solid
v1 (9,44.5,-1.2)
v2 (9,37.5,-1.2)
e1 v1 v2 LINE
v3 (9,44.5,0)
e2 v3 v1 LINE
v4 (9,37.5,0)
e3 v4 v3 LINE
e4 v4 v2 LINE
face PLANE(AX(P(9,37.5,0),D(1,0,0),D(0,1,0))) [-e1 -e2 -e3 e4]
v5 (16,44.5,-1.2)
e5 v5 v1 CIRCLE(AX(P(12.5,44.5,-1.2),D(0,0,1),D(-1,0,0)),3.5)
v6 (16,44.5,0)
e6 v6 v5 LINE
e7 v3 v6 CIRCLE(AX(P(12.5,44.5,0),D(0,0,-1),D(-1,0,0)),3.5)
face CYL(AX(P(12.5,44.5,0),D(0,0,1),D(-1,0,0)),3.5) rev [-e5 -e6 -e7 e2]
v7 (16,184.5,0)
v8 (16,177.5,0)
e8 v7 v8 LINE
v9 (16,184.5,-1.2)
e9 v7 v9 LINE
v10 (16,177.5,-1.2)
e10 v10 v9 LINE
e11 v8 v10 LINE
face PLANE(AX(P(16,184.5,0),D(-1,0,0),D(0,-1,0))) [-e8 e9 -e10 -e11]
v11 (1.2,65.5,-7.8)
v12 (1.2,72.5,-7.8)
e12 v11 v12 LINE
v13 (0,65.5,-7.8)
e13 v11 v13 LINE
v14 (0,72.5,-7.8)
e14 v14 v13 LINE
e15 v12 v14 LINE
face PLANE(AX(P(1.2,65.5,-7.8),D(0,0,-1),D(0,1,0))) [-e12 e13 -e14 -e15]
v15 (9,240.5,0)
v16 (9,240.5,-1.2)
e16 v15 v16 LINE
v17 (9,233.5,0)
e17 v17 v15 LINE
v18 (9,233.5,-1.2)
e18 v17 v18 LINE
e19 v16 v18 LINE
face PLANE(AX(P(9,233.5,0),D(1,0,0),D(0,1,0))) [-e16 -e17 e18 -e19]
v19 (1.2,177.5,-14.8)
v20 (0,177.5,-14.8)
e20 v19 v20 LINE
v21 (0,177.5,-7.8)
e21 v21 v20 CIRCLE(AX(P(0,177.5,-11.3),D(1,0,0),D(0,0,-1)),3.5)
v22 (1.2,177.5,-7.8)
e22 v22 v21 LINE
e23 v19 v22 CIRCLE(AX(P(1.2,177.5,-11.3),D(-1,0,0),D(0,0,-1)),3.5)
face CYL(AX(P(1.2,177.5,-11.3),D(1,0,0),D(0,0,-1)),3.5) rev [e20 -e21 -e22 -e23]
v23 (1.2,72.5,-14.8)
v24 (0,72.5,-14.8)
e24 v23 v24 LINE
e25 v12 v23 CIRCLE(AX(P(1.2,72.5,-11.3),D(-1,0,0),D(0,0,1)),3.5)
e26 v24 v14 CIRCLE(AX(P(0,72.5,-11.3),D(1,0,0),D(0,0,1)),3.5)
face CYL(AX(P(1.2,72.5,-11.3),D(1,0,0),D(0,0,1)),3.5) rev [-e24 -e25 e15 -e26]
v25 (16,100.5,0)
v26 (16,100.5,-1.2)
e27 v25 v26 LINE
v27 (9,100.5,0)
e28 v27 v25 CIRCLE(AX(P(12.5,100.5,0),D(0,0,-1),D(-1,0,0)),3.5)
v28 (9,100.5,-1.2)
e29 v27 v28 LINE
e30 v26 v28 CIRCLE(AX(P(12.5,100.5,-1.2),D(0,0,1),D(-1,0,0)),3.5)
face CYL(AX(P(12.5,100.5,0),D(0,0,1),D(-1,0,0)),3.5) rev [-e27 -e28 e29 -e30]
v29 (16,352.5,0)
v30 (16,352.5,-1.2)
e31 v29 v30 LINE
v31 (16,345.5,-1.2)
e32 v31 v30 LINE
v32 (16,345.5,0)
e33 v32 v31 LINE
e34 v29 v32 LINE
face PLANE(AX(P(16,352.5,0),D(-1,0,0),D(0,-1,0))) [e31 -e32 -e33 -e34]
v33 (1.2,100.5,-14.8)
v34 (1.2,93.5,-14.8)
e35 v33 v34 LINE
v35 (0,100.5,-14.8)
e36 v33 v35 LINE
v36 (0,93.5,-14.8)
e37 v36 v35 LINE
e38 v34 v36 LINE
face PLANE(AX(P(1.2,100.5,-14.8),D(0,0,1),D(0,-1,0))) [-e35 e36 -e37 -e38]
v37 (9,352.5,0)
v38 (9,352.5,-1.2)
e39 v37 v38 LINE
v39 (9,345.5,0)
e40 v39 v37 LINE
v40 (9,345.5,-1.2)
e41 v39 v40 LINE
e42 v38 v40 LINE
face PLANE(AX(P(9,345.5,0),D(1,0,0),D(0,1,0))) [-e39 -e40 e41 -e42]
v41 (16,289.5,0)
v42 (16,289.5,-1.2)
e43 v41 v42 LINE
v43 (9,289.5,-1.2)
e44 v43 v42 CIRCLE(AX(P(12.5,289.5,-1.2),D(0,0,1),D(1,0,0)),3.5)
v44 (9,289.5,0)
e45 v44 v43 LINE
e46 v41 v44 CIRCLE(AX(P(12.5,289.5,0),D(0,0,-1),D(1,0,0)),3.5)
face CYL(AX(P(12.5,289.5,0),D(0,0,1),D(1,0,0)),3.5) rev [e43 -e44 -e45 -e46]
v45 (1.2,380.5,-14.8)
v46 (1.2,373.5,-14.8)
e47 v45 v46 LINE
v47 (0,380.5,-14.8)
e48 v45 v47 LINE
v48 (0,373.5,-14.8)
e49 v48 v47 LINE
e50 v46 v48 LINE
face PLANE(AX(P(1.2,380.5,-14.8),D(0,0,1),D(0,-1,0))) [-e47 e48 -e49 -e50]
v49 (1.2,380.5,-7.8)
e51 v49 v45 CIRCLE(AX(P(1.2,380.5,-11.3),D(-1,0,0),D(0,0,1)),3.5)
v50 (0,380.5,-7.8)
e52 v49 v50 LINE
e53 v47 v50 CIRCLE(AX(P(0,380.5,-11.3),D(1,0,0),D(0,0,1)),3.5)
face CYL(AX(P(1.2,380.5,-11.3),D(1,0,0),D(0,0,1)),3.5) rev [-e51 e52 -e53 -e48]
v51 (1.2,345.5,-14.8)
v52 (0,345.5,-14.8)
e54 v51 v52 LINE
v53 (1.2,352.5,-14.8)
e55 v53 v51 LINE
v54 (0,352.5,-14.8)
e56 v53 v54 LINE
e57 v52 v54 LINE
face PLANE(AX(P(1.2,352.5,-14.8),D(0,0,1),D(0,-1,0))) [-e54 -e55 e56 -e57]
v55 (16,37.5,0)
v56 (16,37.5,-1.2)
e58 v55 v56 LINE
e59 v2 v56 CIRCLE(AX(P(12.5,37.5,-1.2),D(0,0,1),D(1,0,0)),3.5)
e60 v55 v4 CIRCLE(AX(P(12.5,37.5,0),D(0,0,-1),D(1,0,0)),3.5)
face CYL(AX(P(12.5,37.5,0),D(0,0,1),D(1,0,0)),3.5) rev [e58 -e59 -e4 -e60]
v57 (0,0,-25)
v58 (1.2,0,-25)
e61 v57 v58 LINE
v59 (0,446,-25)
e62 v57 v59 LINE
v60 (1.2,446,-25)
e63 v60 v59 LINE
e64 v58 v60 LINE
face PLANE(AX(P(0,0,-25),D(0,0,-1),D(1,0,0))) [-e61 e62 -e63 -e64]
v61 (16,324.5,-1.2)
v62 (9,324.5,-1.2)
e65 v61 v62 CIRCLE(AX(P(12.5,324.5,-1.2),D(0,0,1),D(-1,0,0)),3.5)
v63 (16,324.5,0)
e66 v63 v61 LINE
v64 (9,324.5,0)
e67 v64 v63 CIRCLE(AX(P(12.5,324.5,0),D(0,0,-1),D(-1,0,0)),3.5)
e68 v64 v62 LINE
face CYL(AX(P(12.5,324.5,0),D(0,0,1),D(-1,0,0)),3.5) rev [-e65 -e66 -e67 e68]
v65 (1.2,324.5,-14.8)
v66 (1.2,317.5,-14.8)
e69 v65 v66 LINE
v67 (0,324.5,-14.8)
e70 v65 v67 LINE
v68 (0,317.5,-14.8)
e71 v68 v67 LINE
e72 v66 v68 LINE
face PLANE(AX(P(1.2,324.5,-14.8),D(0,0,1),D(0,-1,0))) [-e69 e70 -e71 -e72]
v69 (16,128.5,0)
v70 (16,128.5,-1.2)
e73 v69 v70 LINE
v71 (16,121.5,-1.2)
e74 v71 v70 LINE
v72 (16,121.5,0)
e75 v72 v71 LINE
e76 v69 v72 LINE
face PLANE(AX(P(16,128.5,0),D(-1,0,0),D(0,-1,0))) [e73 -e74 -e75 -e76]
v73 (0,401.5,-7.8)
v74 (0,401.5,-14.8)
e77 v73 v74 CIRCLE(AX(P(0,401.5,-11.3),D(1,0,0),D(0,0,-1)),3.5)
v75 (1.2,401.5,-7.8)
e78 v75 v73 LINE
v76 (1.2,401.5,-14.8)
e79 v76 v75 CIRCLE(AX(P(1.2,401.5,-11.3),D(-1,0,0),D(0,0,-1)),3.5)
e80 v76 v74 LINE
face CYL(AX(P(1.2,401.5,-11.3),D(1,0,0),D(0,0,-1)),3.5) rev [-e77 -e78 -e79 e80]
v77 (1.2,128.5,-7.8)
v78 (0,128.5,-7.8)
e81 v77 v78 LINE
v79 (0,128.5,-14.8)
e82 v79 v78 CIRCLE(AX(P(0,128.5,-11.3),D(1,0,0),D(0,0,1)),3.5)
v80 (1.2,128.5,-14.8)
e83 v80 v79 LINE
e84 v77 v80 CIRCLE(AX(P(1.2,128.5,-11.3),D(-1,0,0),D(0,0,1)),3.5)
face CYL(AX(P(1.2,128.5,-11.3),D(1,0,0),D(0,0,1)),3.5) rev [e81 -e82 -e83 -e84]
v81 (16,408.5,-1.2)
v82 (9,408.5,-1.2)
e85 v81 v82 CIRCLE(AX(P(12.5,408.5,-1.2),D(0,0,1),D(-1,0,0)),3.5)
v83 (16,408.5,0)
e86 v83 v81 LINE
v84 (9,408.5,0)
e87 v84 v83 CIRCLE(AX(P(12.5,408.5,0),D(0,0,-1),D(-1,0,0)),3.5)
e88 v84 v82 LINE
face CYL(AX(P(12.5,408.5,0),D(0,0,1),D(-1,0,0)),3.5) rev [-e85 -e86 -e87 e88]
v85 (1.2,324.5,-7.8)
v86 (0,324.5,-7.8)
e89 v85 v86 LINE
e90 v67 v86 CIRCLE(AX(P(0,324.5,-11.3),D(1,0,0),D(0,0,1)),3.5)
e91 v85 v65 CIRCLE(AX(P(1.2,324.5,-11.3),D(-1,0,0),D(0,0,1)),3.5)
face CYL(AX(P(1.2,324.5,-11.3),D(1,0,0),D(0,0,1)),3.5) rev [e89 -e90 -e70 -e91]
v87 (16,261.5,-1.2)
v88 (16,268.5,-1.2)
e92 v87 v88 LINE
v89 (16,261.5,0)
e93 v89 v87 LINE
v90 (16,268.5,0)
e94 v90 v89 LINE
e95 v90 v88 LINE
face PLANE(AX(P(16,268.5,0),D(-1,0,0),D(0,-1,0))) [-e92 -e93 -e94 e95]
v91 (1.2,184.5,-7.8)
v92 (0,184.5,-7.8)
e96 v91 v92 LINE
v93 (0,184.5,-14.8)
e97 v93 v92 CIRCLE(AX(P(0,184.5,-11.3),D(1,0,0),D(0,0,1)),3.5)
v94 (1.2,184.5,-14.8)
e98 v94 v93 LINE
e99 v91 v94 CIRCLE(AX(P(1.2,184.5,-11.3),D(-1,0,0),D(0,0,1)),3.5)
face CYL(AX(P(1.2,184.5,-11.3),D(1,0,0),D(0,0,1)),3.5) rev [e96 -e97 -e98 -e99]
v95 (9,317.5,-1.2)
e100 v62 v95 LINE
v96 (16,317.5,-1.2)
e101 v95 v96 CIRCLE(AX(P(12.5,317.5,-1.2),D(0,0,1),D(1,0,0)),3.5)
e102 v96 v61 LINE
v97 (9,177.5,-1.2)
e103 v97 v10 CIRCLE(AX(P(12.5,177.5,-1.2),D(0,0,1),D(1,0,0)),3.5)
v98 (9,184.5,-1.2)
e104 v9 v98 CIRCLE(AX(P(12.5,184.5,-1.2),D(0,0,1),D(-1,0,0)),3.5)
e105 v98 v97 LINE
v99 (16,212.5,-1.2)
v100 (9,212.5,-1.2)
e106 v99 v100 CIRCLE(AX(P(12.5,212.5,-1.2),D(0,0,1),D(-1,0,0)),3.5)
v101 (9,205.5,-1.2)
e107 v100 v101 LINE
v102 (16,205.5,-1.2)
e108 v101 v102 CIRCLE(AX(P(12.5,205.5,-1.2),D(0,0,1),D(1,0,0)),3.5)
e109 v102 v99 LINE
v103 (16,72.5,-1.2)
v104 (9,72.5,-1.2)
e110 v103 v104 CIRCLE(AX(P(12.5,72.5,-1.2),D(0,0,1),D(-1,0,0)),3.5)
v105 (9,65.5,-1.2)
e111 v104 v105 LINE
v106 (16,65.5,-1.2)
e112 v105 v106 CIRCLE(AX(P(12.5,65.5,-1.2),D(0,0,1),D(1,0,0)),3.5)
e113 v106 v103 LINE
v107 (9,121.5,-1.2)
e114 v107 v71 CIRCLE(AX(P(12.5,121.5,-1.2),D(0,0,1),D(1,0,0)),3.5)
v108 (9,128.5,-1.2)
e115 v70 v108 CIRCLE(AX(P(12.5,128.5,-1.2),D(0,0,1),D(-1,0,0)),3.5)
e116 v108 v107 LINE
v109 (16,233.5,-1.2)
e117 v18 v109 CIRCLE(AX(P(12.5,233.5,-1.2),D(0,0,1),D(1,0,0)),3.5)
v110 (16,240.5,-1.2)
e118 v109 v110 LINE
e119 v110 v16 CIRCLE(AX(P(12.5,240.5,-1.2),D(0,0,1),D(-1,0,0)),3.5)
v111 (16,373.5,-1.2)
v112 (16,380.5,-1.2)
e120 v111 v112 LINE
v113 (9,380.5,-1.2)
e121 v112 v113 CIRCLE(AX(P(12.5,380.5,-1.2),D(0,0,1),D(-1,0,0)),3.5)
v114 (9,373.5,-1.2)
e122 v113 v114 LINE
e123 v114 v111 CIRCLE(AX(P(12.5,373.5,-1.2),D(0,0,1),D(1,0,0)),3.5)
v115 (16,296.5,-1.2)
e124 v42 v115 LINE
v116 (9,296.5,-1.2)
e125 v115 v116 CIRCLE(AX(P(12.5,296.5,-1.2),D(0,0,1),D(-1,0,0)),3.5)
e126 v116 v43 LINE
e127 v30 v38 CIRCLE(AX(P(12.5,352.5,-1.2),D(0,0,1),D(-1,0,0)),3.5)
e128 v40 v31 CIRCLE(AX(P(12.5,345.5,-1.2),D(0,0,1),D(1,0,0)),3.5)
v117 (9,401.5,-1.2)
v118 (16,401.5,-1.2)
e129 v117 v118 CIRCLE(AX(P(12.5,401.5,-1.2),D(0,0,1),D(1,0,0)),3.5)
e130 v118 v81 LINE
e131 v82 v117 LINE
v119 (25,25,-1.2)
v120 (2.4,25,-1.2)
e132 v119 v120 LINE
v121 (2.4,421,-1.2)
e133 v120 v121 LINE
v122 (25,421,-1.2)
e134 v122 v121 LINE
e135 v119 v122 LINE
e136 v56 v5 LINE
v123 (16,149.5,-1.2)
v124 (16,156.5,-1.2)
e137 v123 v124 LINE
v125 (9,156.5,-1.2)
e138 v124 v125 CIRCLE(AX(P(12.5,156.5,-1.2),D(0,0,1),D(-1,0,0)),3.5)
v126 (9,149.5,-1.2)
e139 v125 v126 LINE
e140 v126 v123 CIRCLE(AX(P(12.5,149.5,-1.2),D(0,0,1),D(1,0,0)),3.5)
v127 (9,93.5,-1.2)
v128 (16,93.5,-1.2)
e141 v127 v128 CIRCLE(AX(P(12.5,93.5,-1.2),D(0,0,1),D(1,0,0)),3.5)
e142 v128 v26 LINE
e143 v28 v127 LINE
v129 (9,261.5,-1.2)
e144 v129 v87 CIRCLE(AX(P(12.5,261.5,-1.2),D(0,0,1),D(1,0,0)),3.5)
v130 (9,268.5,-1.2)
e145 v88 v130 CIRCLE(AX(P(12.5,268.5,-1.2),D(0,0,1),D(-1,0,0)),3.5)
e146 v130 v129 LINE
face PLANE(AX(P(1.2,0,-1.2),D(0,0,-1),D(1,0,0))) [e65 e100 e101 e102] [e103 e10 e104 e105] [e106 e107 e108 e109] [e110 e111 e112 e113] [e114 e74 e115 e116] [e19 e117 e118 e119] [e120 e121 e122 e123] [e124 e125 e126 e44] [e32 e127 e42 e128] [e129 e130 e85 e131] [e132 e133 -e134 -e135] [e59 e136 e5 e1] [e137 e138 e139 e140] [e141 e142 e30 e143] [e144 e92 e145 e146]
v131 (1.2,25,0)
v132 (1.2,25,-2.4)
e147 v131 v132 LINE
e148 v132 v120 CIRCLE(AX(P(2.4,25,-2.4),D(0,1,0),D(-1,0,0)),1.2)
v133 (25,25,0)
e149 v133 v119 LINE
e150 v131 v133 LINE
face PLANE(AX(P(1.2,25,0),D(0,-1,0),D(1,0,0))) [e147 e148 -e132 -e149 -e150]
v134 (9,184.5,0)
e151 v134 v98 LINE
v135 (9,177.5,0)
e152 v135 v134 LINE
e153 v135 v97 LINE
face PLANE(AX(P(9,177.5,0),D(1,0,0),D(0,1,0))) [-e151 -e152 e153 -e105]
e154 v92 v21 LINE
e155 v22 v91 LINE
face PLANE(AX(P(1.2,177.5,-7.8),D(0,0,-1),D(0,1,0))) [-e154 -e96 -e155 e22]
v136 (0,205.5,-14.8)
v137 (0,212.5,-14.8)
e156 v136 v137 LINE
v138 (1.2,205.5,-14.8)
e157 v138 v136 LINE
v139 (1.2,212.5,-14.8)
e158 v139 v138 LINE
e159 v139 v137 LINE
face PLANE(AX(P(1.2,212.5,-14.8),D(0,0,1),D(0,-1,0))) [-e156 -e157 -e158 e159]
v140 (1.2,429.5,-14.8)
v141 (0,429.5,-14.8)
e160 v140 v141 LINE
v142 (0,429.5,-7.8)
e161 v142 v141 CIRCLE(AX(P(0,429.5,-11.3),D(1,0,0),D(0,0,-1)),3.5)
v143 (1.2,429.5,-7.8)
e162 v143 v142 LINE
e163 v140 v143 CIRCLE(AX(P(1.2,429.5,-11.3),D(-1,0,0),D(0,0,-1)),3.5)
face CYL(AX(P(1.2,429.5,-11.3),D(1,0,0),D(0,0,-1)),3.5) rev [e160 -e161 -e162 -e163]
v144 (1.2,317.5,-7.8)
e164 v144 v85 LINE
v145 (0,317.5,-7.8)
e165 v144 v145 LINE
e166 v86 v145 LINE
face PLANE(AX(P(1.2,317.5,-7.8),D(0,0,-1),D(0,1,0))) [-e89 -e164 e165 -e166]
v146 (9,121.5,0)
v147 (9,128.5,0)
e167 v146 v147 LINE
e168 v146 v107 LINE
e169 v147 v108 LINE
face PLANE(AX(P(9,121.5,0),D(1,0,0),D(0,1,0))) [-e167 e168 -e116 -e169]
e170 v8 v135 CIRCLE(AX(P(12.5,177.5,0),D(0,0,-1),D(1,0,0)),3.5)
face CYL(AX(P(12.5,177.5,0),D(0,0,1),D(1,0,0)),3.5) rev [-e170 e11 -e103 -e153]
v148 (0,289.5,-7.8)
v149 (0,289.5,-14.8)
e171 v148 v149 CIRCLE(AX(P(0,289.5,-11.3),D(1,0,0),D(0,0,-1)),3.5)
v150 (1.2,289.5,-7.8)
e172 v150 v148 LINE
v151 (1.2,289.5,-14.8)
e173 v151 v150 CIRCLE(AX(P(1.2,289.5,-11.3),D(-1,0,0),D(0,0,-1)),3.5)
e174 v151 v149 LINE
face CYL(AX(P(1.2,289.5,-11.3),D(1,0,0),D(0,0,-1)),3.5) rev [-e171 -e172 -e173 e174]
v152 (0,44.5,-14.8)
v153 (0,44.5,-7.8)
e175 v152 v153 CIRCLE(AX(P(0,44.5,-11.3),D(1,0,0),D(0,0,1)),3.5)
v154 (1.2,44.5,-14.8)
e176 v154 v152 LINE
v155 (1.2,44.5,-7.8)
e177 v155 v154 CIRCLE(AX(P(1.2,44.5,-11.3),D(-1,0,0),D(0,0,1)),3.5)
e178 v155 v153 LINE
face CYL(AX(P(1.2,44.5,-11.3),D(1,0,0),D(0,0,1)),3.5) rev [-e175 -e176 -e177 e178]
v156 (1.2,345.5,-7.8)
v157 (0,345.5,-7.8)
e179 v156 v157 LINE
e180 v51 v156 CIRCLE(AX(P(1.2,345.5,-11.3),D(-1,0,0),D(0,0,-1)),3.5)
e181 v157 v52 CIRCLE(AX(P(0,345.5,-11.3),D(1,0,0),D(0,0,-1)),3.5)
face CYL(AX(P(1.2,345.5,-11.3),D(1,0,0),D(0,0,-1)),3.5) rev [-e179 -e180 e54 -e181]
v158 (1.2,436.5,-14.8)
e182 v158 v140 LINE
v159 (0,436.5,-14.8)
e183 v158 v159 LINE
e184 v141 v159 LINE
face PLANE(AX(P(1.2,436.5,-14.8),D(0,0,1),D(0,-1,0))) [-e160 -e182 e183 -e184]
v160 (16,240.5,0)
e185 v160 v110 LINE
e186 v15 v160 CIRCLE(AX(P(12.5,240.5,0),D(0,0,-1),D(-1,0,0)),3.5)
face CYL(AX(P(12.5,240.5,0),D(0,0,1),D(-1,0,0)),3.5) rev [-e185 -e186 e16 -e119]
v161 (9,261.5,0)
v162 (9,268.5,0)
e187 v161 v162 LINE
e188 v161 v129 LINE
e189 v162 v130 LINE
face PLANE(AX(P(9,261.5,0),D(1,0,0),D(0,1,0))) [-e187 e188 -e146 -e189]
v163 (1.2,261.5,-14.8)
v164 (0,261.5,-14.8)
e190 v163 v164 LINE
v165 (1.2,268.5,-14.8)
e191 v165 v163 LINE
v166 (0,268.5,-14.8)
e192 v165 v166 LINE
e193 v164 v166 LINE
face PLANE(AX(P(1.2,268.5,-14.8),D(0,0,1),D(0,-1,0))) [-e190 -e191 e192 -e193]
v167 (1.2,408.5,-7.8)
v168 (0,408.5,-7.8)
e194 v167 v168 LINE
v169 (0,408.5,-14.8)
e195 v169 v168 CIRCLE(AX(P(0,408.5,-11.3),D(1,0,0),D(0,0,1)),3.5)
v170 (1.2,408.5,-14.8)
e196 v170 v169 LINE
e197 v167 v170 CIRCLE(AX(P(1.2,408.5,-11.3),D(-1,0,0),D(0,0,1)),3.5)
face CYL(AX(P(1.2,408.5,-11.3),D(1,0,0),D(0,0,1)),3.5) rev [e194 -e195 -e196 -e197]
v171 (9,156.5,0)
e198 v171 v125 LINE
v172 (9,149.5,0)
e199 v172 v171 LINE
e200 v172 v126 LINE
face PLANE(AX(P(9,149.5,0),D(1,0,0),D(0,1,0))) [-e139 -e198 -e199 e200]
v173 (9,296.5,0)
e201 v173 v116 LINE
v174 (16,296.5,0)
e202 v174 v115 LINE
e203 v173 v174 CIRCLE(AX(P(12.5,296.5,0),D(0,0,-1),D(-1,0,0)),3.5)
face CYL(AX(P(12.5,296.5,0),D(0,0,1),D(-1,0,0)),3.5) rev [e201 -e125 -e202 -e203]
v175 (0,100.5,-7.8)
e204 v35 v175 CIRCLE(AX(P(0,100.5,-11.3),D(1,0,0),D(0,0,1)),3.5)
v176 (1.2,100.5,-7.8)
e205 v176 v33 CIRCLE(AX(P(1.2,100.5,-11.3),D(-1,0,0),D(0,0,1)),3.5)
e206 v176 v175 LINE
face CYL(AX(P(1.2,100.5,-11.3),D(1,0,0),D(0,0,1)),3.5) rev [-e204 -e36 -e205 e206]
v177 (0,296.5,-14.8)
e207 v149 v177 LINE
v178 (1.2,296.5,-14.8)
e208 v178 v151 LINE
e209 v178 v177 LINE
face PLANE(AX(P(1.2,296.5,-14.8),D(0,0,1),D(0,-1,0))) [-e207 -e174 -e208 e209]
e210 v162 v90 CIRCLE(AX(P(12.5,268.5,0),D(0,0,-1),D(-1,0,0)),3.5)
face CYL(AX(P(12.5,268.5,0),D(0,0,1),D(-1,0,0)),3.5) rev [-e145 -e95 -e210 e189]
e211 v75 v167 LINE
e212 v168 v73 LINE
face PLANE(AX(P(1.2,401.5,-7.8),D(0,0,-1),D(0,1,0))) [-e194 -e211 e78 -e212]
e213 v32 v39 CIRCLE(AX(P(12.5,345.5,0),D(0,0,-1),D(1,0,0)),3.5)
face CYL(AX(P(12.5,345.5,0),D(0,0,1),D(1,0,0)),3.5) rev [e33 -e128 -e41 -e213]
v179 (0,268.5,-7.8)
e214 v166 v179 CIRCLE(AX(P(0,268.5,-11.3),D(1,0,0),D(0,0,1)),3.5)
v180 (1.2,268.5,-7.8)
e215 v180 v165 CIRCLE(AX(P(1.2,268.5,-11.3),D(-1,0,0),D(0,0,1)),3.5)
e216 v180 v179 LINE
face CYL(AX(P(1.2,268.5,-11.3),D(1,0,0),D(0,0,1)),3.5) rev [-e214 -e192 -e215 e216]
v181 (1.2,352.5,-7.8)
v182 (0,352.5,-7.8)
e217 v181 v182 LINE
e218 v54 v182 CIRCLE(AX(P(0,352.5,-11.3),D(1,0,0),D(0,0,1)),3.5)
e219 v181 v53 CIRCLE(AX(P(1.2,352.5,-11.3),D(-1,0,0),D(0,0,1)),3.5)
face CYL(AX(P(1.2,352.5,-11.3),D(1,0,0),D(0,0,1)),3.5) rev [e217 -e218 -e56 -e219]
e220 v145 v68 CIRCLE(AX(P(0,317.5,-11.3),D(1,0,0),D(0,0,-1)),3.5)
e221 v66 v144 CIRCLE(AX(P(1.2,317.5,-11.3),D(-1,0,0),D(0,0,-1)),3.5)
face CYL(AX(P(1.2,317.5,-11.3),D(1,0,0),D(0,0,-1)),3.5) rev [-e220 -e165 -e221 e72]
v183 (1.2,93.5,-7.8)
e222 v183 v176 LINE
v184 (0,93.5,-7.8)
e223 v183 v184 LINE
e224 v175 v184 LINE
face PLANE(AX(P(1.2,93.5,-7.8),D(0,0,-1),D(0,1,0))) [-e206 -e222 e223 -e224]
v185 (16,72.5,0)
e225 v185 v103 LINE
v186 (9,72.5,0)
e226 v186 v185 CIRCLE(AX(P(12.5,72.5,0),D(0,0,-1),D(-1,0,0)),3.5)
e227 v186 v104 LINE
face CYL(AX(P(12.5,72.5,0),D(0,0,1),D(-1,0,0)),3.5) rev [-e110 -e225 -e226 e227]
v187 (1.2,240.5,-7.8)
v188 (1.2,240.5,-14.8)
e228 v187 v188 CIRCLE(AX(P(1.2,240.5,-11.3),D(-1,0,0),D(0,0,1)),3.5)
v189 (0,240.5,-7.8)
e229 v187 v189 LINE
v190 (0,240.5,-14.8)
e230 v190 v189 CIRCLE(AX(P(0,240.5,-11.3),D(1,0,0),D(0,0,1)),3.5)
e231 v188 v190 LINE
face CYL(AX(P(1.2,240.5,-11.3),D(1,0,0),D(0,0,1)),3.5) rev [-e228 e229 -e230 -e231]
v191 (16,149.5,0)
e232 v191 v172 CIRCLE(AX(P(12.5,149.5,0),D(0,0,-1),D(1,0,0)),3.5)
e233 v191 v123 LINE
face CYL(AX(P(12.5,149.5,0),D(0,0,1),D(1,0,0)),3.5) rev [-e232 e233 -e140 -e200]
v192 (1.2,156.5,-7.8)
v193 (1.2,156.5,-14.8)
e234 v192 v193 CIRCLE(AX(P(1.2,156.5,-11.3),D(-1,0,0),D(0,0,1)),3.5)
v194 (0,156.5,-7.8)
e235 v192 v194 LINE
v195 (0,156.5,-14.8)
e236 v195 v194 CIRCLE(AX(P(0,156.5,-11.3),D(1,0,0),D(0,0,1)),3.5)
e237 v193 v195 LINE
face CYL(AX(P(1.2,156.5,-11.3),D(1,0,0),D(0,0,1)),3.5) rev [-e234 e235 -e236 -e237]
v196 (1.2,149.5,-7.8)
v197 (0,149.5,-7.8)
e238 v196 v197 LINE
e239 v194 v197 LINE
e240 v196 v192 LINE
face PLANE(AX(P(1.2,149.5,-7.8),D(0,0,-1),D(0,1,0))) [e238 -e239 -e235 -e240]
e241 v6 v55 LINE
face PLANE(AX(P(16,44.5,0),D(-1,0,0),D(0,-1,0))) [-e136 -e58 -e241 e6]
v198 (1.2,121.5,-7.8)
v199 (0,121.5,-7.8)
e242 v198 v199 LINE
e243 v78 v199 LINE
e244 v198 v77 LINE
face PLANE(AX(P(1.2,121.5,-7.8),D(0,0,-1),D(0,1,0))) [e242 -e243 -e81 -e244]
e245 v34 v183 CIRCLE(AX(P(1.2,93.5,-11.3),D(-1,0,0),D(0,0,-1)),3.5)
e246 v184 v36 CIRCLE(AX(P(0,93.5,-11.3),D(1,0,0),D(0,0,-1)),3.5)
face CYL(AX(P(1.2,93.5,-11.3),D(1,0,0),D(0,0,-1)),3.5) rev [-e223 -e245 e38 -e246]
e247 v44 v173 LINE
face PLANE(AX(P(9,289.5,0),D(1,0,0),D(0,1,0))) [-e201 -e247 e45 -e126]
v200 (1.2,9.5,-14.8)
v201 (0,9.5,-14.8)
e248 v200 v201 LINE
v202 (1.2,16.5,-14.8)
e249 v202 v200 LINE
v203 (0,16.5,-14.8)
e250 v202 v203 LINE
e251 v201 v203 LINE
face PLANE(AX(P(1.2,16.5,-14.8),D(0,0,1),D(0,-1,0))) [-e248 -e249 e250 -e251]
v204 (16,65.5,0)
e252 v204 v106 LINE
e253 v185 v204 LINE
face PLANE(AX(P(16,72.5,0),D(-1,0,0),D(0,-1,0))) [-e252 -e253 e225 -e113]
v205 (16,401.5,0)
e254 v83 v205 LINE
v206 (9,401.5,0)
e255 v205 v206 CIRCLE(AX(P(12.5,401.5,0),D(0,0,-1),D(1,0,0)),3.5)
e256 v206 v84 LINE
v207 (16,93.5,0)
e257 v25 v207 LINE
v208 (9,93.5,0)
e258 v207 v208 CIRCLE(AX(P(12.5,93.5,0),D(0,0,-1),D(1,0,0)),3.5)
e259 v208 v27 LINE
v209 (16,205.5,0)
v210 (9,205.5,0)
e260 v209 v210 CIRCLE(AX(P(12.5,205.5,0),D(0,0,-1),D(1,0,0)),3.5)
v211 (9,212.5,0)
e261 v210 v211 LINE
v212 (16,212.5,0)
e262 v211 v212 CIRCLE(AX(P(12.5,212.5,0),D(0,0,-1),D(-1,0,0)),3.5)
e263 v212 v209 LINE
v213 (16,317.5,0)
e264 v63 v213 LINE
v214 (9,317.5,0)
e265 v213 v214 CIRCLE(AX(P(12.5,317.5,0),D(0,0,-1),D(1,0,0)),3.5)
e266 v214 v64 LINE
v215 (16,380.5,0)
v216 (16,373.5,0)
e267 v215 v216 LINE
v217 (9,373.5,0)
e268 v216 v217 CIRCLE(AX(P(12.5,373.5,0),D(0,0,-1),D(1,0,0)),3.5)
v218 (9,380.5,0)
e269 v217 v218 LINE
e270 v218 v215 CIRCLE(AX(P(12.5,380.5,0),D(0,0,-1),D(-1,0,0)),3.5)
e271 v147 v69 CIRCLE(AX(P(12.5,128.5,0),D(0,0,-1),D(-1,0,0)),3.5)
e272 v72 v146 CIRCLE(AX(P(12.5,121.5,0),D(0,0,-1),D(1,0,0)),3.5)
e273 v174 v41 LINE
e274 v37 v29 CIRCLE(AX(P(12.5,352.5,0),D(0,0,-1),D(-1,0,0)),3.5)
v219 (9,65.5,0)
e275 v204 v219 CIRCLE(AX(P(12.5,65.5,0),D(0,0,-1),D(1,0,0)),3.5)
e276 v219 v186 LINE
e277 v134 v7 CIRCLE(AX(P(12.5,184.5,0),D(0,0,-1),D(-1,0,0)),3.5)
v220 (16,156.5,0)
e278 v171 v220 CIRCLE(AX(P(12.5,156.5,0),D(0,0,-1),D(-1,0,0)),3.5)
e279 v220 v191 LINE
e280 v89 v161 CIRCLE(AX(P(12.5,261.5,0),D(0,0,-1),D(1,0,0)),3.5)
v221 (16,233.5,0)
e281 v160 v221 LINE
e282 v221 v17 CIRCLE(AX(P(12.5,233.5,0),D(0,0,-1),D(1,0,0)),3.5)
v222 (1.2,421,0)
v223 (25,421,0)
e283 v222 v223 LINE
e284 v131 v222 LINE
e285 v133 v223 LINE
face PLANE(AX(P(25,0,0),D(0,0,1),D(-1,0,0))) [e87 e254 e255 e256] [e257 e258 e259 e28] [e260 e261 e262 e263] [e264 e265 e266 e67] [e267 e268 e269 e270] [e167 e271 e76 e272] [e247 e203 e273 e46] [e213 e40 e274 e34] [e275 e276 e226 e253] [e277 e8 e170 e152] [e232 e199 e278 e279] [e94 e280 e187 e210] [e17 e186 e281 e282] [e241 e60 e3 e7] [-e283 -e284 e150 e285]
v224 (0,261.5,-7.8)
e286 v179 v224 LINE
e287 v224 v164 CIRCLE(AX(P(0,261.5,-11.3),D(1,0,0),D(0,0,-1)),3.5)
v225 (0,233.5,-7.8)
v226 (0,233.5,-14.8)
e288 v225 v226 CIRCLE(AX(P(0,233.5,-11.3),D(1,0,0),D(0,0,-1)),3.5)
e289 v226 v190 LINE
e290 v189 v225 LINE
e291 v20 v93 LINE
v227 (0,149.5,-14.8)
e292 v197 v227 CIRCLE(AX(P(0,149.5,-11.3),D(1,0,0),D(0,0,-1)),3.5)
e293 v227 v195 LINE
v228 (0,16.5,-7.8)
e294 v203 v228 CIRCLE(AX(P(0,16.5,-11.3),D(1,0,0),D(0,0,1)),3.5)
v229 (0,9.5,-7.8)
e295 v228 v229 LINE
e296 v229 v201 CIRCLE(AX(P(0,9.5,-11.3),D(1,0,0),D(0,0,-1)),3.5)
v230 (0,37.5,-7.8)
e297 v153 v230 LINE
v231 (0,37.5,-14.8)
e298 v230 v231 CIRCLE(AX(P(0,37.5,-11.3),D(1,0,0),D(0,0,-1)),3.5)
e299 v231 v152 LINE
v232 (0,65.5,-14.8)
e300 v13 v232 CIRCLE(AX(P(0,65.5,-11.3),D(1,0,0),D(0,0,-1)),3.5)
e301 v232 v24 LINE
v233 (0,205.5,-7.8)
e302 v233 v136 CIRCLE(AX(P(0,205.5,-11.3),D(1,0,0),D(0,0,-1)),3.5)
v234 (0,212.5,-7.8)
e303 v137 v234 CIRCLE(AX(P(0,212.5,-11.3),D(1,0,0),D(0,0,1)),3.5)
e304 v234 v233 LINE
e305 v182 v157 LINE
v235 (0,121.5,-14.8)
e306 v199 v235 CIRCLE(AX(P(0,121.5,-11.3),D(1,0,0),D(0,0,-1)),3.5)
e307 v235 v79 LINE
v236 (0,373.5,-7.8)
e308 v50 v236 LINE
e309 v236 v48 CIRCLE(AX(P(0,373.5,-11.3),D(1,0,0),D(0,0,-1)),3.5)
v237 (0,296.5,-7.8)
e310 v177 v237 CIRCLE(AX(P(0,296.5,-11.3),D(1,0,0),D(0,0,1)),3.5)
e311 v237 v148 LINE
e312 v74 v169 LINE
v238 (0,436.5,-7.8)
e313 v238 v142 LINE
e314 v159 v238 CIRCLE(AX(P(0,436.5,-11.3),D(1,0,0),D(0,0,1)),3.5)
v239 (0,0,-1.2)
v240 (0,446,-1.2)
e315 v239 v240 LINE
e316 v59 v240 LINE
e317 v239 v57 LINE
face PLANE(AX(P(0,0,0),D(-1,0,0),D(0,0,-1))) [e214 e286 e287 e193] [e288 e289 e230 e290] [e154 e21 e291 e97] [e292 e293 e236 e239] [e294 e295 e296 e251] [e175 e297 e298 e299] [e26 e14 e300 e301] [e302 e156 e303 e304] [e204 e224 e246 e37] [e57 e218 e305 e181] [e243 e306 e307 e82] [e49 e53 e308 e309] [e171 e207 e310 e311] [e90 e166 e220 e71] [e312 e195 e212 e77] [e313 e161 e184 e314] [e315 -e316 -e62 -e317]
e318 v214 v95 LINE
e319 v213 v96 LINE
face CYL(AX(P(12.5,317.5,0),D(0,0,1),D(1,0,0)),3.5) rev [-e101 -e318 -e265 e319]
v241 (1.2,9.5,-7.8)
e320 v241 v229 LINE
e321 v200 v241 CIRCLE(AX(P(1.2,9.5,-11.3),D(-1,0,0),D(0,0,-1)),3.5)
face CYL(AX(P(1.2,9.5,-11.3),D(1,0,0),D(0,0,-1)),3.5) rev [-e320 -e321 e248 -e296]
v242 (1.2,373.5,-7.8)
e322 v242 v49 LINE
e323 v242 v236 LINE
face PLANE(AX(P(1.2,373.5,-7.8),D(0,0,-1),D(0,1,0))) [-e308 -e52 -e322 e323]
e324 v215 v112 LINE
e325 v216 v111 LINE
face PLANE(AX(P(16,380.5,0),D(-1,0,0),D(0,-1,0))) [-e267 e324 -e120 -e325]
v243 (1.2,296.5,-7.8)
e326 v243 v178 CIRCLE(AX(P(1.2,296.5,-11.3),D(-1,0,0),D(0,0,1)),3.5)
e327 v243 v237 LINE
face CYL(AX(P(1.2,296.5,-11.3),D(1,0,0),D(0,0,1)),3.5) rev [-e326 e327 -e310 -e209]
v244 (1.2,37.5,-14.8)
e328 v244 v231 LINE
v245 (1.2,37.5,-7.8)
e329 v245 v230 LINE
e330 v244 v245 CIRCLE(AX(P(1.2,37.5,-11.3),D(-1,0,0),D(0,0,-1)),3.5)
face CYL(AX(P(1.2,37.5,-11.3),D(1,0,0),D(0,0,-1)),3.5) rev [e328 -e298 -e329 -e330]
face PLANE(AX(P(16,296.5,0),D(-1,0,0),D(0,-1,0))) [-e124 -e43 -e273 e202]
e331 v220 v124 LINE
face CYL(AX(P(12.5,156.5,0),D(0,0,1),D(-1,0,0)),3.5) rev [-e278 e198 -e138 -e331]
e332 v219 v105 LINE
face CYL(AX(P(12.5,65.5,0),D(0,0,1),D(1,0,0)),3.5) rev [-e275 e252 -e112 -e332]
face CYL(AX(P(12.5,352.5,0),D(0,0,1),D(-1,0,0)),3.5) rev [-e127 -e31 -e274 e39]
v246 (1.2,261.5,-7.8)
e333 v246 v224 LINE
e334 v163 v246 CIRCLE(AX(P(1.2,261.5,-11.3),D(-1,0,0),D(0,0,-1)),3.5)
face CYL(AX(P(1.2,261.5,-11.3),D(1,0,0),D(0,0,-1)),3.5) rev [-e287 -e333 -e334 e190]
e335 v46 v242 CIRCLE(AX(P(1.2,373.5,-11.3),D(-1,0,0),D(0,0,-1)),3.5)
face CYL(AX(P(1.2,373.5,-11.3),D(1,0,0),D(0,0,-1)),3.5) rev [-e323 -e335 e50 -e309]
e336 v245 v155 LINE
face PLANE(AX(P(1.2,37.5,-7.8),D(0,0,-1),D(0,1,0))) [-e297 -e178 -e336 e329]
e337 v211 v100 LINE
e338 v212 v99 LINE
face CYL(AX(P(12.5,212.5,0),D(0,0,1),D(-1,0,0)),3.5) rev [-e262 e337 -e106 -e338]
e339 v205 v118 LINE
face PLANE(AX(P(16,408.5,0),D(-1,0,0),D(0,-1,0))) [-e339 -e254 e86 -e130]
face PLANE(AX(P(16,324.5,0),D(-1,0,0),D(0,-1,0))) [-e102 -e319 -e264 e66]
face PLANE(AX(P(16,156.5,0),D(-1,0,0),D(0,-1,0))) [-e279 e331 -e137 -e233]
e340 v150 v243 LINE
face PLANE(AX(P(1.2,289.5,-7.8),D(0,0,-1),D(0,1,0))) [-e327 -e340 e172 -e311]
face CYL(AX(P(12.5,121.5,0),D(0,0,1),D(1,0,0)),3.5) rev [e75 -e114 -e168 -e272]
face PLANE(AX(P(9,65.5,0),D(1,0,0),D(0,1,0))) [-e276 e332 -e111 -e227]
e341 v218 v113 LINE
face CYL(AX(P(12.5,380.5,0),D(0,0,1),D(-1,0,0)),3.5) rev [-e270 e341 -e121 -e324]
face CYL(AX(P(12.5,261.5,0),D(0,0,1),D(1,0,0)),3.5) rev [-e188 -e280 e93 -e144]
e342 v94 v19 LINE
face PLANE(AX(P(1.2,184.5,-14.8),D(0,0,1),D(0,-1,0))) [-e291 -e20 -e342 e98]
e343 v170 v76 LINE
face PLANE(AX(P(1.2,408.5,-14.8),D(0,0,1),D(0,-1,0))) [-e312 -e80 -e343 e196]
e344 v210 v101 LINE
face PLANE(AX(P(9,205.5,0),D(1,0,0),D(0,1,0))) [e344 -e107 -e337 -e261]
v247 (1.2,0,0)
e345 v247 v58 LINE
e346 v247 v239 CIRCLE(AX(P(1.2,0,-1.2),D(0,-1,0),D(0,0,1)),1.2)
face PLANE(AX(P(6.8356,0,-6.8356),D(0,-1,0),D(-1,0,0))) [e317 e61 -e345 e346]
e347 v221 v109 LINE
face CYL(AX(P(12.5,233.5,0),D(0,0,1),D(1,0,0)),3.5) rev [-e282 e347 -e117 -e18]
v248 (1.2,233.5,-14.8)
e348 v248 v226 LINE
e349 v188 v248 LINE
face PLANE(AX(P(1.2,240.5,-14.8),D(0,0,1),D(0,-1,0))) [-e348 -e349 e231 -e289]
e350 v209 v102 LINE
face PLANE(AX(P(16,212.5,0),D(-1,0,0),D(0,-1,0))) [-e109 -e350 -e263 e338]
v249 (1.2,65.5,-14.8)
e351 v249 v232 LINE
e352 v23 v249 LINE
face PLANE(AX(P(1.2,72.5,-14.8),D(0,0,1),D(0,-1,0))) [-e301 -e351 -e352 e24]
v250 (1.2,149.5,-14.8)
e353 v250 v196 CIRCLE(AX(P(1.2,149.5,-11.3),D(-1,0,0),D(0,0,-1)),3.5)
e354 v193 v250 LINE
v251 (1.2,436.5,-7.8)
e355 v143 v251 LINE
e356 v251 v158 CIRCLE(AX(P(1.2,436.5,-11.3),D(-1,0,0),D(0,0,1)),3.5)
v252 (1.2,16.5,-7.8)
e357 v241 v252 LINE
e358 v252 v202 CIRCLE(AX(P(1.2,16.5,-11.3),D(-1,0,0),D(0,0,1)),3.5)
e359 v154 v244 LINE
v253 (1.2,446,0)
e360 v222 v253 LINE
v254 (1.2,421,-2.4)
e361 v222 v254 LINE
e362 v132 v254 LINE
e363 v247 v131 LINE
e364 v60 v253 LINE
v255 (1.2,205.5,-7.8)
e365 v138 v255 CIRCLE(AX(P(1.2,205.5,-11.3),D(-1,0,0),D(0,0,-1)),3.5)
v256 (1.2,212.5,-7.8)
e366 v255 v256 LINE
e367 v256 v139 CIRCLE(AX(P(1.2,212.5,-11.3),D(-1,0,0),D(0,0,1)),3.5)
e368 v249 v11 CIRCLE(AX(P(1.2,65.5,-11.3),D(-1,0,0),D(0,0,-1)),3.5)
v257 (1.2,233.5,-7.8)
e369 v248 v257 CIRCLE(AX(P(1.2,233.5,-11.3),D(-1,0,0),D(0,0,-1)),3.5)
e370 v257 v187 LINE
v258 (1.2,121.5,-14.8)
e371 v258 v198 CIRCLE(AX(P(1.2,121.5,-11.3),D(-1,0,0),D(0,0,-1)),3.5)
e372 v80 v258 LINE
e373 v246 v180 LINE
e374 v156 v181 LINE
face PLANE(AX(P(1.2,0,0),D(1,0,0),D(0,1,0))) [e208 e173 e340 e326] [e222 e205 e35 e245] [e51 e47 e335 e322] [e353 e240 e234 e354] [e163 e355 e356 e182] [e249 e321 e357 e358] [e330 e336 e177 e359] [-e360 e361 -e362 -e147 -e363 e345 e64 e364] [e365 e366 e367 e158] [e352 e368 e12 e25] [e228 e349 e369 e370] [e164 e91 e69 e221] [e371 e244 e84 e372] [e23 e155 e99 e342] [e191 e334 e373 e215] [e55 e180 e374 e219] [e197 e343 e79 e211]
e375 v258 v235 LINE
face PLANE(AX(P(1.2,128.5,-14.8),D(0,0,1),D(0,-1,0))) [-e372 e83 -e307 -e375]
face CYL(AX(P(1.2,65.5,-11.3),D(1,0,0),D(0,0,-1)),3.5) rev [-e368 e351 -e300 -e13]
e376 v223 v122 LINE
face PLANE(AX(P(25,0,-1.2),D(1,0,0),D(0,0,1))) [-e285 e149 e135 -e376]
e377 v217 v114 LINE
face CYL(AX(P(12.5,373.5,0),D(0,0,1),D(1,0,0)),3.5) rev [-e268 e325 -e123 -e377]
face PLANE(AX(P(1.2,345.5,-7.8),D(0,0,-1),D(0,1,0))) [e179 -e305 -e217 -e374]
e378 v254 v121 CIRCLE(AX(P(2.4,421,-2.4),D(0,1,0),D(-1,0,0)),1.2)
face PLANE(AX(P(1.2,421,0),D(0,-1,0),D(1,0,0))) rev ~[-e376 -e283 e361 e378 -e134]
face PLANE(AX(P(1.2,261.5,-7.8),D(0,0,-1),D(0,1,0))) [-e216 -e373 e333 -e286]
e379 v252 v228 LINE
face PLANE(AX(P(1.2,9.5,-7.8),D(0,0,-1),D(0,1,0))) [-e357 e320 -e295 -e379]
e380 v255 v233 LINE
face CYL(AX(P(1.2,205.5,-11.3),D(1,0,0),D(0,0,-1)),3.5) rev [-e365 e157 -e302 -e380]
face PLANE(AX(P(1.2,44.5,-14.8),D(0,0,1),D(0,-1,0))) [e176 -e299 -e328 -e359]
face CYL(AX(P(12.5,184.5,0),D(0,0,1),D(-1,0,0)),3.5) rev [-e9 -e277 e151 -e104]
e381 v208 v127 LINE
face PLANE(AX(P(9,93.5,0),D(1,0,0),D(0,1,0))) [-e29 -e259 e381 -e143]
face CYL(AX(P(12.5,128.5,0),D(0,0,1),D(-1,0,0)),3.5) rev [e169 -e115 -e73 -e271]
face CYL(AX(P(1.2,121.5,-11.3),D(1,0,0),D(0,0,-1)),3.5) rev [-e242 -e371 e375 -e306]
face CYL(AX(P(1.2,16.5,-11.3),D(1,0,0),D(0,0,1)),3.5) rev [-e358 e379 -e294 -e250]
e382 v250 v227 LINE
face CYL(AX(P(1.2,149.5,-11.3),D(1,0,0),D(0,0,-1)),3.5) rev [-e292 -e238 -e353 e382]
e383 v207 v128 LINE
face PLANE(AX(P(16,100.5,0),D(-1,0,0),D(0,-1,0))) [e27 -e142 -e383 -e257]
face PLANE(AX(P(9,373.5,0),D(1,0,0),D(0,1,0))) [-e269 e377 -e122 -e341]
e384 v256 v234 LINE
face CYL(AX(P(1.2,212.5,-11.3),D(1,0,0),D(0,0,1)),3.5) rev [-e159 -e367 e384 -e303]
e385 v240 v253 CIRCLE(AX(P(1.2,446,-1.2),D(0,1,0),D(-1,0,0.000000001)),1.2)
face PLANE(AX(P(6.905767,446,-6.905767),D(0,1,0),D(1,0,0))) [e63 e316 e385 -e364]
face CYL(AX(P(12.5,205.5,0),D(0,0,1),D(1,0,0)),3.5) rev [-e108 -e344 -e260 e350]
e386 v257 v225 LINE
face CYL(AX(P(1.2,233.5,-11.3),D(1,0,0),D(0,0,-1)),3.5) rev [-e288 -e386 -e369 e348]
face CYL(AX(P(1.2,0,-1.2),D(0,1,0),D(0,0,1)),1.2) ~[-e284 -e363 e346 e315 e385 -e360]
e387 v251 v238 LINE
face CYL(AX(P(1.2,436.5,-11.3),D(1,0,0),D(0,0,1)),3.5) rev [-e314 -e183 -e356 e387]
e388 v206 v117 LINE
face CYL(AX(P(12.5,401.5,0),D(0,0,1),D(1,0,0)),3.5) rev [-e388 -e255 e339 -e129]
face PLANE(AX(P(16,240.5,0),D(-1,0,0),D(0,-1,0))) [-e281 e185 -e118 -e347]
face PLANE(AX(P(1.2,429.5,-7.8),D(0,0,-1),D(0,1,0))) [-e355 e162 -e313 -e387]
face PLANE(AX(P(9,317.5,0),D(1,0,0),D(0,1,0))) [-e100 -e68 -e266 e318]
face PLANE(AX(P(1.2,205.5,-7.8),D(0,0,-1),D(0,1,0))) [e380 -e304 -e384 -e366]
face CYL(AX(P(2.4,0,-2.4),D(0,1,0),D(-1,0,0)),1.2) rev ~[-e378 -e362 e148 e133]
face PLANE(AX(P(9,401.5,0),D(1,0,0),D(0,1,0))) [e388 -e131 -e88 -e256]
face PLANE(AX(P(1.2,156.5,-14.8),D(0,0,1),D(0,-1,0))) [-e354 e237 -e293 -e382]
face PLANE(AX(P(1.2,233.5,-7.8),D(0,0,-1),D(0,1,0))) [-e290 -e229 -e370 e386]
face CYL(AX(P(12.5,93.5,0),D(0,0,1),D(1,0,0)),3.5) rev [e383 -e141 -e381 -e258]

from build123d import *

# Parameters (mm, degrees)
EXTRUDE_THIN1_DEPTH       = 450
FILLET1_R                 = 1.2
CUT_EXTRUDE1_DEPTH        = 26
LPATTERN1_COUNT           = 17
LPATTERN1_PITCH           = 28
CIRPATTERN1_COUNT         = 2
CIRPATTERN1_ANGLE         = 270
CIRPATTERN1_COPY_1_DEPTH  = 26
CIRPATTERN1_COPY_2_DEPTH  = 26
CIRPATTERN1_COPY_3_DEPTH  = 26
CIRPATTERN1_COPY_4_DEPTH  = 26
CIRPATTERN1_COPY_5_DEPTH  = 26
CIRPATTERN1_COPY_6_DEPTH  = 26
CIRPATTERN1_COPY_7_DEPTH  = 26
CIRPATTERN1_COPY_8_DEPTH  = 26
CIRPATTERN1_COPY_9_DEPTH  = 26
CIRPATTERN1_COPY_10_DEPTH = 26
CIRPATTERN1_COPY_11_DEPTH = 26
CIRPATTERN1_COPY_12_DEPTH = 26
CIRPATTERN1_COPY_13_DEPTH = 26
CIRPATTERN1_COPY_14_DEPTH = 26
CIRPATTERN1_COPY_15_DEPTH = 26
CIRPATTERN1_COPY_16_DEPTH = 26
CUT_EXTRUDE2_DEPTH        = 4
SKETCH5_W                 = 23.8
SKETCH5_H                 = 25
CUT_EXTRUDE3_DEPTH        = 10


with BuildPart() as part:
    # Sketch1 → Extrude-Thin1 (new body)
    with BuildSketch(Plane(origin=(0, 0, 0), x_dir=(1, 0, 0), z_dir=(0, 1, 0))):
        Polygon((25, 0), (0, 0), (0, 25), (1.2, 25), (1.2, 1.2), (25, 1.2), align=None)
    extrude(amount=EXTRUDE_THIN1_DEPTH)

    # Fillet1
    fillet1_edges = [part.edges().sort_by_distance(p)[0] for p in [
        (0, 225, 0),
        (1.2, 225, -1.2),
    ]]
    fillet(fillet1_edges, radius=FILLET1_R)

    # Sketch2 → Cut-Extrude1 (cut, through all)
    with BuildSketch(Plane.XY):
        with BuildLine():
            Line((9, 9.5), (9, 16.5))
            ThreePointArc((9, 16.5), (12.5, 20), (16, 16.5))
            Line((16, 16.5), (16, 9.5))
            ThreePointArc((16, 9.5), (12.5, 6), (9, 9.5))
        make_face()
    cut_extrude1 = extrude(amount=-CUT_EXTRUDE1_DEPTH, mode=Mode.SUBTRACT)

    # LPattern1: Cut-Extrude1 ×17
    with Locations(*[(0, i * LPATTERN1_PITCH, 0) for i in range(1, LPATTERN1_COUNT)]):
        add(cut_extrude1, mode=Mode.SUBTRACT)

    # CirPattern1: Cut-Extrude1 ×2 about axis
    cirpattern1_axis = Axis((1.2, 450, 0), (0, -1, 0))
    for i in range(1, CIRPATTERN1_COUNT):
        add(cut_extrude1.rotate(cirpattern1_axis, i * CIRPATTERN1_ANGLE / (CIRPATTERN1_COUNT - 1)), mode=Mode.SUBTRACT)

    # CirPattern1 copy 1 sketch → CirPattern1 copy 1 (cut, through all)
    with BuildSketch(Plane(origin=(1.2, 28, 1.2), x_dir=(0, 0, -1), z_dir=(1, 0, 0))):
        with BuildLine():
            Line((9, 9.5), (9, 16.5))
            ThreePointArc((9, 16.5), (12.5, 20), (16, 16.5))
            Line((16, 16.5), (16, 9.5))
            ThreePointArc((16, 9.5), (12.5, 6), (9, 9.5))
        make_face()
    extrude(amount=-CIRPATTERN1_COPY_1_DEPTH, mode=Mode.SUBTRACT)

    # CirPattern1 copy 2 sketch → CirPattern1 copy 2 (cut, through all)
    with BuildSketch(Plane(origin=(1.2, 56, 1.2), x_dir=(0, 0, -1), z_dir=(1, 0, 0))):
        with BuildLine():
            Line((9, 9.5), (9, 16.5))
            ThreePointArc((9, 16.5), (12.5, 20), (16, 16.5))
            Line((16, 16.5), (16, 9.5))
            ThreePointArc((16, 9.5), (12.5, 6), (9, 9.5))
        make_face()
    extrude(amount=-CIRPATTERN1_COPY_2_DEPTH, mode=Mode.SUBTRACT)

    # CirPattern1 copy 3 sketch → CirPattern1 copy 3 (cut, through all)
    with BuildSketch(Plane(origin=(1.2, 84, 1.2), x_dir=(0, 0, -1), z_dir=(1, 0, 0))):
        with BuildLine():
            Line((9, 9.5), (9, 16.5))
            ThreePointArc((9, 16.5), (12.5, 20), (16, 16.5))
            Line((16, 16.5), (16, 9.5))
            ThreePointArc((16, 9.5), (12.5, 6), (9, 9.5))
        make_face()
    extrude(amount=-CIRPATTERN1_COPY_3_DEPTH, mode=Mode.SUBTRACT)

    # CirPattern1 copy 4 sketch → CirPattern1 copy 4 (cut, through all)
    with BuildSketch(Plane(origin=(1.2, 112, 1.2), x_dir=(0, 0, -1), z_dir=(1, 0, 0))):
        with BuildLine():
            Line((9, 9.5), (9, 16.5))
            ThreePointArc((9, 16.5), (12.5, 20), (16, 16.5))
            Line((16, 16.5), (16, 9.5))
            ThreePointArc((16, 9.5), (12.5, 6), (9, 9.5))
        make_face()
    extrude(amount=-CIRPATTERN1_COPY_4_DEPTH, mode=Mode.SUBTRACT)

    # CirPattern1 copy 5 sketch → CirPattern1 copy 5 (cut, through all)
    with BuildSketch(Plane(origin=(1.2, 140, 1.2), x_dir=(0, 0, -1), z_dir=(1, 0, 0))):
        with BuildLine():
            Line((9, 9.5), (9, 16.5))
            ThreePointArc((9, 16.5), (12.5, 20), (16, 16.5))
            Line((16, 16.5), (16, 9.5))
            ThreePointArc((16, 9.5), (12.5, 6), (9, 9.5))
        make_face()
    extrude(amount=-CIRPATTERN1_COPY_5_DEPTH, mode=Mode.SUBTRACT)

    # CirPattern1 copy 6 sketch → CirPattern1 copy 6 (cut, through all)
    with BuildSketch(Plane(origin=(1.2, 168, 1.2), x_dir=(0, 0, -1), z_dir=(1, 0, 0))):
        with BuildLine():
            Line((9, 9.5), (9, 16.5))
            ThreePointArc((9, 16.5), (12.5, 20), (16, 16.5))
            Line((16, 16.5), (16, 9.5))
            ThreePointArc((16, 9.5), (12.5, 6), (9, 9.5))
        make_face()
    extrude(amount=-CIRPATTERN1_COPY_6_DEPTH, mode=Mode.SUBTRACT)

    # CirPattern1 copy 7 sketch → CirPattern1 copy 7 (cut, through all)
    with BuildSketch(Plane(origin=(1.2, 196, 1.2), x_dir=(0, 0, -1), z_dir=(1, 0, 0))):
        with BuildLine():
            Line((9, 9.5), (9, 16.5))
            ThreePointArc((9, 16.5), (12.5, 20), (16, 16.5))
            Line((16, 16.5), (16, 9.5))
            ThreePointArc((16, 9.5), (12.5, 6), (9, 9.5))
        make_face()
    extrude(amount=-CIRPATTERN1_COPY_7_DEPTH, mode=Mode.SUBTRACT)

    # CirPattern1 copy 8 sketch → CirPattern1 copy 8 (cut, through all)
    with BuildSketch(Plane(origin=(1.2, 224, 1.2), x_dir=(0, 0, -1), z_dir=(1, 0, 0))):
        with BuildLine():
            Line((9, 9.5), (9, 16.5))
            ThreePointArc((9, 16.5), (12.5, 20), (16, 16.5))
            Line((16, 16.5), (16, 9.5))
            ThreePointArc((16, 9.5), (12.5, 6), (9, 9.5))
        make_face()
    extrude(amount=-CIRPATTERN1_COPY_8_DEPTH, mode=Mode.SUBTRACT)

    # CirPattern1 copy 9 sketch → CirPattern1 copy 9 (cut, through all)
    with BuildSketch(Plane(origin=(1.2, 252, 1.2), x_dir=(0, 0, -1), z_dir=(1, 0, 0))):
        with BuildLine():
            Line((9, 9.5), (9, 16.5))
            ThreePointArc((9, 16.5), (12.5, 20), (16, 16.5))
            Line((16, 16.5), (16, 9.5))
            ThreePointArc((16, 9.5), (12.5, 6), (9, 9.5))
        make_face()
    extrude(amount=-CIRPATTERN1_COPY_9_DEPTH, mode=Mode.SUBTRACT)

    # CirPattern1 copy 10 sketch → CirPattern1 copy 10 (cut, through all)
    with BuildSketch(Plane(origin=(1.2, 280, 1.2), x_dir=(0, 0, -1), z_dir=(1, 0, 0))):
        with BuildLine():
            Line((9, 9.5), (9, 16.5))
            ThreePointArc((9, 16.5), (12.5, 20), (16, 16.5))
            Line((16, 16.5), (16, 9.5))
            ThreePointArc((16, 9.5), (12.5, 6), (9, 9.5))
        make_face()
    extrude(amount=-CIRPATTERN1_COPY_10_DEPTH, mode=Mode.SUBTRACT)

    # CirPattern1 copy 11 sketch → CirPattern1 copy 11 (cut, through all)
    with BuildSketch(Plane(origin=(1.2, 308, 1.2), x_dir=(0, 0, -1), z_dir=(1, 0, 0))):
        with BuildLine():
            Line((9, 9.5), (9, 16.5))
            ThreePointArc((9, 16.5), (12.5, 20), (16, 16.5))
            Line((16, 16.5), (16, 9.5))
            ThreePointArc((16, 9.5), (12.5, 6), (9, 9.5))
        make_face()
    extrude(amount=-CIRPATTERN1_COPY_11_DEPTH, mode=Mode.SUBTRACT)

    # CirPattern1 copy 12 sketch → CirPattern1 copy 12 (cut, through all)
    with BuildSketch(Plane(origin=(1.2, 336, 1.2), x_dir=(0, 0, -1), z_dir=(1, 0, 0))):
        with BuildLine():
            Line((9, 9.5), (9, 16.5))
            ThreePointArc((9, 16.5), (12.5, 20), (16, 16.5))
            Line((16, 16.5), (16, 9.5))
            ThreePointArc((16, 9.5), (12.5, 6), (9, 9.5))
        make_face()
    extrude(amount=-CIRPATTERN1_COPY_12_DEPTH, mode=Mode.SUBTRACT)

    # CirPattern1 copy 13 sketch → CirPattern1 copy 13 (cut, through all)
    with BuildSketch(Plane(origin=(1.2, 364, 1.2), x_dir=(0, 0, -1), z_dir=(1, 0, 0))):
        with BuildLine():
            Line((9, 9.5), (9, 16.5))
            ThreePointArc((9, 16.5), (12.5, 20), (16, 16.5))
            Line((16, 16.5), (16, 9.5))
            ThreePointArc((16, 9.5), (12.5, 6), (9, 9.5))
        make_face()
    extrude(amount=-CIRPATTERN1_COPY_13_DEPTH, mode=Mode.SUBTRACT)

    # CirPattern1 copy 14 sketch → CirPattern1 copy 14 (cut, through all)
    with BuildSketch(Plane(origin=(1.2, 392, 1.2), x_dir=(0, 0, -1), z_dir=(1, 0, 0))):
        with BuildLine():
            Line((9, 9.5), (9, 16.5))
            ThreePointArc((9, 16.5), (12.5, 20), (16, 16.5))
            Line((16, 16.5), (16, 9.5))
            ThreePointArc((16, 9.5), (12.5, 6), (9, 9.5))
        make_face()
    extrude(amount=-CIRPATTERN1_COPY_14_DEPTH, mode=Mode.SUBTRACT)

    # CirPattern1 copy 15 sketch → CirPattern1 copy 15 (cut, through all)
    with BuildSketch(Plane(origin=(1.2, 420, 1.2), x_dir=(0, 0, -1), z_dir=(1, 0, 0))):
        with BuildLine():
            Line((9, 9.5), (9, 16.5))
            ThreePointArc((9, 16.5), (12.5, 20), (16, 16.5))
            Line((16, 16.5), (16, 9.5))
            ThreePointArc((16, 9.5), (12.5, 6), (9, 9.5))
        make_face()
    extrude(amount=-CIRPATTERN1_COPY_15_DEPTH, mode=Mode.SUBTRACT)

    # CirPattern1 copy 16 sketch → CirPattern1 copy 16 (cut, through all)
    with BuildSketch(Plane(origin=(1.2, 448, 1.2), x_dir=(0, 0, -1), z_dir=(1, 0, 0))):
        with BuildLine():
            Line((9, 9.5), (9, 16.5))
            ThreePointArc((9, 16.5), (12.5, 20), (16, 16.5))
            Line((16, 16.5), (16, 9.5))
            ThreePointArc((16, 9.5), (12.5, 6), (9, 9.5))
        make_face()
    extrude(amount=-CIRPATTERN1_COPY_16_DEPTH, mode=Mode.SUBTRACT)

    # Sketch3 → Cut-Extrude2 (cut)
    with BuildSketch(Plane(origin=(0, 450, 0), x_dir=(1, 0, 0), z_dir=(0, 1, 0))):
        with BuildLine():
            Line((0, 25), (0, 1.2))
            ThreePointArc((0, 1.2), (0.351471863, 0.351471863), (1.2, 0))
            Line((1.2, 0), (25, 0))
            Line((25, 0), (25, 1.2))
            Line((25, 1.2), (2.4, 1.2))
            ThreePointArc((2.4, 1.2), (1.551471863, 1.551471863), (1.2, 2.4))
            Line((1.2, 2.4), (1.2, 25))
            Line((1.2, 25), (0, 25))
        make_face()
    extrude(amount=-CUT_EXTRUDE2_DEPTH, mode=Mode.SUBTRACT)

    # Sketch5 → Cut-Extrude3 (cut)
    with BuildSketch(Plane.XY):
        with Locations((13.1, 433.5)):
            Rectangle(SKETCH5_W, SKETCH5_H)
        with Locations((13.1, 12.5)):
            Rectangle(SKETCH5_W, SKETCH5_H)
    extrude(amount=-CUT_EXTRUDE3_DEPTH, mode=Mode.SUBTRACT)


solid = part.part
